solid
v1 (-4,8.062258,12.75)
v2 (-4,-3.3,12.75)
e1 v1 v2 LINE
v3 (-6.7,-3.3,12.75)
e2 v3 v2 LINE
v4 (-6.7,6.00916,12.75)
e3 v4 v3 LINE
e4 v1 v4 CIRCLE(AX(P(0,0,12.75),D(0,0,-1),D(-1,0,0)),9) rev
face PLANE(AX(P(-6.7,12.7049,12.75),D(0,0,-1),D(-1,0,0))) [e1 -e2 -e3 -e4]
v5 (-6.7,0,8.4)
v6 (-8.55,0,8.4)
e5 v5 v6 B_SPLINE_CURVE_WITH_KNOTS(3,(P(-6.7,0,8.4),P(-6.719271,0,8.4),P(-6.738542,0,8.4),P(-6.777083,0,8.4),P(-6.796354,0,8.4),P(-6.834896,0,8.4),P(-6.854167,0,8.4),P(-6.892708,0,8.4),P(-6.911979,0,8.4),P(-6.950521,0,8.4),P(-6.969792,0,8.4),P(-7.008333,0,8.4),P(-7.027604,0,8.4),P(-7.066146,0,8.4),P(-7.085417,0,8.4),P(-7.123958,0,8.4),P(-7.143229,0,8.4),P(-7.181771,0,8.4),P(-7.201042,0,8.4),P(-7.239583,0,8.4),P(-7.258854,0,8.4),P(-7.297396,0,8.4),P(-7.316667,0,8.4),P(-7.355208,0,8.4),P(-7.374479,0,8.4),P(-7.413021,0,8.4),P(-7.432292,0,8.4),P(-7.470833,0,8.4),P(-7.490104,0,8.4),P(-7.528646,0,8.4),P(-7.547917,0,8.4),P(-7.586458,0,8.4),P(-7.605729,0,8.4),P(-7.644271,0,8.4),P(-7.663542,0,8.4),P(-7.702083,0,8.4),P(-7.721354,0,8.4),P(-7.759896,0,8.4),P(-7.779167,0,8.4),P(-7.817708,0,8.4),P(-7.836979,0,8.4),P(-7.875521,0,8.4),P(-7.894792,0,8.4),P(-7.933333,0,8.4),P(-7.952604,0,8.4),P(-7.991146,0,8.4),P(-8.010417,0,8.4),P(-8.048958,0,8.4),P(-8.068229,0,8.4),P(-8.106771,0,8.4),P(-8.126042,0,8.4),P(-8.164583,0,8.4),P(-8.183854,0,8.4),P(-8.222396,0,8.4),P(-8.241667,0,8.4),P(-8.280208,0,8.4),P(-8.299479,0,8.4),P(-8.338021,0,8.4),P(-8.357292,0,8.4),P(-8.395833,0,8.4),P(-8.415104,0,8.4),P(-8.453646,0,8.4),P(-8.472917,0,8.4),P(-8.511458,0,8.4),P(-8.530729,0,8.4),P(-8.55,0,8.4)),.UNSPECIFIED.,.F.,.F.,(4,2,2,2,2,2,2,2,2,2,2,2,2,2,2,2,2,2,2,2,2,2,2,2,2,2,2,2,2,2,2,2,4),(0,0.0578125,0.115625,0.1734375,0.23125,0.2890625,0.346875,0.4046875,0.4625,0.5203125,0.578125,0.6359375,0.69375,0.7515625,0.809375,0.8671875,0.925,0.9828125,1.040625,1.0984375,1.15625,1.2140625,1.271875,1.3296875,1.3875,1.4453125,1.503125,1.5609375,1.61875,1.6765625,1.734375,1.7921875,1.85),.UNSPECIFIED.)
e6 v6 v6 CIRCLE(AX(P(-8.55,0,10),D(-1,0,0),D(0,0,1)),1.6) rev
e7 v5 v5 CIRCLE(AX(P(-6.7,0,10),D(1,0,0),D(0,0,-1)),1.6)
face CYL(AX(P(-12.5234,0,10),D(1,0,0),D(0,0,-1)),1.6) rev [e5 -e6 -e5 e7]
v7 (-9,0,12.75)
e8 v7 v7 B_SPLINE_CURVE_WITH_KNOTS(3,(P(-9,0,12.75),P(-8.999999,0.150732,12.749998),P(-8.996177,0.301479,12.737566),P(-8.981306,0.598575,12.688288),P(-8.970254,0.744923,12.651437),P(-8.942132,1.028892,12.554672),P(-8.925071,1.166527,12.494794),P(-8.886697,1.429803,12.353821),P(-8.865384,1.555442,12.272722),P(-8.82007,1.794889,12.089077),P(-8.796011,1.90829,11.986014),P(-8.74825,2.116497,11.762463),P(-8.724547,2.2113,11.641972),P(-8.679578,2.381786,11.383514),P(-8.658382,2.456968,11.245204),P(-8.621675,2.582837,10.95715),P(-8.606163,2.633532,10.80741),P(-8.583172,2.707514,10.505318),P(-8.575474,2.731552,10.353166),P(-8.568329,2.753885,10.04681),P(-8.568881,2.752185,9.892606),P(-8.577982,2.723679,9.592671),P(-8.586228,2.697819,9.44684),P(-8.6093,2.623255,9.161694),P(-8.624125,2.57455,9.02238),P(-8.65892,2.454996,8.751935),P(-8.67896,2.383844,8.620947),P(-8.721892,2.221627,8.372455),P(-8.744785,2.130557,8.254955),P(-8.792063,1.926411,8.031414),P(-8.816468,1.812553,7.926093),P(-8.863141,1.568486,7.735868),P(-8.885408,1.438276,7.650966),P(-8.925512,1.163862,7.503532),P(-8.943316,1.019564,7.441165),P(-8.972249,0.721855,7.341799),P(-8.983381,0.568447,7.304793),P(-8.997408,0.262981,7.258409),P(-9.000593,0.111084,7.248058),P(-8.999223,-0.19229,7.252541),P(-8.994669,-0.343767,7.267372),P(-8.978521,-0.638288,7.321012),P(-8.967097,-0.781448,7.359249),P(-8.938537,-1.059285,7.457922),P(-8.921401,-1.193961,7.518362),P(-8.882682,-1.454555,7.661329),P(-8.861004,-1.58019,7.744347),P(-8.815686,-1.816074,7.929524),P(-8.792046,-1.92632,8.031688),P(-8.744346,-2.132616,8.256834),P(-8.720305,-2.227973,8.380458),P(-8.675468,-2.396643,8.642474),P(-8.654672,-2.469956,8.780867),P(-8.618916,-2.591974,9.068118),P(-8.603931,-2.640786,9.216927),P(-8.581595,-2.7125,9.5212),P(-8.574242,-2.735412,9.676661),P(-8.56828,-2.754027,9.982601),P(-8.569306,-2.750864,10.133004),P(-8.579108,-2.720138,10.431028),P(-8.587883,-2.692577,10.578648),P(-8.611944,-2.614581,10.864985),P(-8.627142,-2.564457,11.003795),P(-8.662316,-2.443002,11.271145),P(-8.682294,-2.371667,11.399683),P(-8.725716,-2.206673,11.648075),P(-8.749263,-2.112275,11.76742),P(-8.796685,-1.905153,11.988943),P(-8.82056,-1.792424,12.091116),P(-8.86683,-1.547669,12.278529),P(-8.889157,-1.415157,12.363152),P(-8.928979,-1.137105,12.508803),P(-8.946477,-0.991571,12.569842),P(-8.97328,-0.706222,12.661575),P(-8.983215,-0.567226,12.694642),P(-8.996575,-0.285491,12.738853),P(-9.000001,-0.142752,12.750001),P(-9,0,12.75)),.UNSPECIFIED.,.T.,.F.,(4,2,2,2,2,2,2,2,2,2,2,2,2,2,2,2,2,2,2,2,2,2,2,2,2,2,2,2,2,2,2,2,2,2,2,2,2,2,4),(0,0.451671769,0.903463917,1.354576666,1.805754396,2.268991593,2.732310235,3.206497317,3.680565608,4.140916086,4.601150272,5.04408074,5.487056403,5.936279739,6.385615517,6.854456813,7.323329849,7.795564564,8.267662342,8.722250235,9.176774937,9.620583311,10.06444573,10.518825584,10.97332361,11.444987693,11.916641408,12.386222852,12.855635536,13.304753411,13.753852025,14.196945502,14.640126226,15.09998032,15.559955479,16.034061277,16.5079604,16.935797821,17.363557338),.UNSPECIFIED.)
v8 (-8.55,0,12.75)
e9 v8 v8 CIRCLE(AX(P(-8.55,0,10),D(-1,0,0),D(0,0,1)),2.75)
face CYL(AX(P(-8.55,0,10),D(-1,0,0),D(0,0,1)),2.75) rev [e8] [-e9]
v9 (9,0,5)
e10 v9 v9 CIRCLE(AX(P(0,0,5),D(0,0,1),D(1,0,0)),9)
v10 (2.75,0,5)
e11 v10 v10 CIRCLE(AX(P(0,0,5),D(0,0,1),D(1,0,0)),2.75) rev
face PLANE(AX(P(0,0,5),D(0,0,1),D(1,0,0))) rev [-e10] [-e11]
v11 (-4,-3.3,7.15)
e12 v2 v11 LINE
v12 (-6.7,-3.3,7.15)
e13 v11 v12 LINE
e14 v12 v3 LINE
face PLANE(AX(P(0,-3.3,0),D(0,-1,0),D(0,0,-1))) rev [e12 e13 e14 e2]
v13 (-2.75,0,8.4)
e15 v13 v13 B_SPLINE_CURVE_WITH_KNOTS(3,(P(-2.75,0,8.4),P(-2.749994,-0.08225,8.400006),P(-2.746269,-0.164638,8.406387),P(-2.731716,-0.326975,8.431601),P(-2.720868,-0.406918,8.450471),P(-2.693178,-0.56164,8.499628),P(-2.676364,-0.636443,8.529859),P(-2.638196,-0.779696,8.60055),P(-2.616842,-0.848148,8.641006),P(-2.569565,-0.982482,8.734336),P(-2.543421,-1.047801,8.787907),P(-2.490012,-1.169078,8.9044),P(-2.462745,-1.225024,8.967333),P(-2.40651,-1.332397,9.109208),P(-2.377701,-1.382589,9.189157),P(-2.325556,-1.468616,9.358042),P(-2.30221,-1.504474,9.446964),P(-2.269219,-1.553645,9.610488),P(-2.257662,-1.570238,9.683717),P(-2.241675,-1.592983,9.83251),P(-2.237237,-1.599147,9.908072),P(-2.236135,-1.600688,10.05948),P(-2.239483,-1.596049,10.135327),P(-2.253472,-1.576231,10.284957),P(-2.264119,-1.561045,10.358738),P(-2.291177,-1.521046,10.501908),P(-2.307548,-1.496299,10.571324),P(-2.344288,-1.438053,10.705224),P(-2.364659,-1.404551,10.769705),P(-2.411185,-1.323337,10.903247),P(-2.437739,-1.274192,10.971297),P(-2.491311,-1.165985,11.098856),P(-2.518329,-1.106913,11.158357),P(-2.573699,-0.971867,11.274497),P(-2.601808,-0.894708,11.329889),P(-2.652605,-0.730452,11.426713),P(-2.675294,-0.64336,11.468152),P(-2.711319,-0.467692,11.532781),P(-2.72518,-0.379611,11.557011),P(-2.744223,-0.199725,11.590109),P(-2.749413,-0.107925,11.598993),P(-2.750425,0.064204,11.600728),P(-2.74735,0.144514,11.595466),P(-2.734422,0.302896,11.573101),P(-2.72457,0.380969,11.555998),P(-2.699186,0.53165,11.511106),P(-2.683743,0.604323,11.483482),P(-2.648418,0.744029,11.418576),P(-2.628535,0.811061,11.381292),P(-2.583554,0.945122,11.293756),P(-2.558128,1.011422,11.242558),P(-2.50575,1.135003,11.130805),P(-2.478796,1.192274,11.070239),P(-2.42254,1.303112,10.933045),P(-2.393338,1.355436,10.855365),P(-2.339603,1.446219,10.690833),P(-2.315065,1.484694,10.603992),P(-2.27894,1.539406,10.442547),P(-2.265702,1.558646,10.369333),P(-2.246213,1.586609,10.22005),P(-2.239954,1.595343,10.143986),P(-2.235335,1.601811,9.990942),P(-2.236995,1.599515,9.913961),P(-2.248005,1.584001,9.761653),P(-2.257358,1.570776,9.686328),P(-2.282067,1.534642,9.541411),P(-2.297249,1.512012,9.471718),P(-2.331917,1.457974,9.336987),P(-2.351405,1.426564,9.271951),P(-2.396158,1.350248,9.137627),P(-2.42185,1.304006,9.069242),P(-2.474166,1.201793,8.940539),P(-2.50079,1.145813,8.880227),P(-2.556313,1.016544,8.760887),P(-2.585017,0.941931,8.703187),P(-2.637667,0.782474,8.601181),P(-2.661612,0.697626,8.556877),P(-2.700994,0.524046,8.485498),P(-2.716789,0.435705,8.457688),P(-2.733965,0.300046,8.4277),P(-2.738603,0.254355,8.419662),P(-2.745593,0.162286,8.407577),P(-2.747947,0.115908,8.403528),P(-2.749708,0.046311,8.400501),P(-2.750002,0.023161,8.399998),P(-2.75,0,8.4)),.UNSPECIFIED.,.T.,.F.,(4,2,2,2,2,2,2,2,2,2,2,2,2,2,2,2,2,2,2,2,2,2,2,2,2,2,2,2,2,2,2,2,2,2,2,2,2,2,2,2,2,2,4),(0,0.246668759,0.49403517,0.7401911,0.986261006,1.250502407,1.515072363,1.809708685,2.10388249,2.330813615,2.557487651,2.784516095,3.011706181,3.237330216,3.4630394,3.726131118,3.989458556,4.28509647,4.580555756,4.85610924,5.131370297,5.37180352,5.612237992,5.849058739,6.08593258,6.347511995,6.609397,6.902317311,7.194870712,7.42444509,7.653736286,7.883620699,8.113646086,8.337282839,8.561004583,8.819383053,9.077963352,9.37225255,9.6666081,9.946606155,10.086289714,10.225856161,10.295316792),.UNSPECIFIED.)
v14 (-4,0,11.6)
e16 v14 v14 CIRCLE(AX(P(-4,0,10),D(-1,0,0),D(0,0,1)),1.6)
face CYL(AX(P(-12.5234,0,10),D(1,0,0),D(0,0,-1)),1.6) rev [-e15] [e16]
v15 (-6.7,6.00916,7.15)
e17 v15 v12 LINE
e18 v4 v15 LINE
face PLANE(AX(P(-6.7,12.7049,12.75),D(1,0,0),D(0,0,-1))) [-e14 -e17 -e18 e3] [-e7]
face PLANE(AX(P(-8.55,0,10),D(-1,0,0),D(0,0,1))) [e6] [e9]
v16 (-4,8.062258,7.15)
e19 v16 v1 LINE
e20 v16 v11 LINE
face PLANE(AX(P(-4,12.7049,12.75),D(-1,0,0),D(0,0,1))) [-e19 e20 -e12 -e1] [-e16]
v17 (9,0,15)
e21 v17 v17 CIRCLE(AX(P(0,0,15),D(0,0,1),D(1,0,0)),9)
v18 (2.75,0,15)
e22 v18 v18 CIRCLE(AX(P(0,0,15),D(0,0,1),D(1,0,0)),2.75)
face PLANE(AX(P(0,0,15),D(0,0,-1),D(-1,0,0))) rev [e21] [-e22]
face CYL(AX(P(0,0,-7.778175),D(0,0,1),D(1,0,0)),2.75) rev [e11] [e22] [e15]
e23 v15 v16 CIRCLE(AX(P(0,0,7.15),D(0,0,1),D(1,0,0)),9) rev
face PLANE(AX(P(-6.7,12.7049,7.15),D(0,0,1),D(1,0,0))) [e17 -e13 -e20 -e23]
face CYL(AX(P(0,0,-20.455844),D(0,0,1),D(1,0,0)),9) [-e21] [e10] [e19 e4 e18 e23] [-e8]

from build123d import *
from OCP.BRepFilletAPI import BRepFilletAPI_MakeChamfer

# Parameters (mm, degrees)
BOSS_EXTRUDE1_DEPTH           = 4.999999888
BOSS_EXTRUDE2_DEPTH           = 9.999999776
CUT_EXTRUDE1_DEPTH            = 24.851816249
DRAFT1_ANGLE                  = 75.657432428
DRAFT2_ANGLE                  = 75.657432428
CHAMFER1_SIZE                 = 0.480269149
CHAMFER1_SIZE2                = 0.480160377
CHAMFER2_SIZE                 = 0.073907777
CHAMFER2_SIZE2                = 0.055643006
CHAMFER3_SIZE                 = 0.073878837
CHAMFER3_SIZE2                = 0.055610332
CHAMFER4_SIZE                 = 0.48025635
CHAMFER4_SIZE2                = 0.480244097
CHAMFER5_SIZE                 = 0.055613272
CHAMFER5_SIZE2                = 0.073938433
CHAMFER6_SIZE                 = 0.073986168
CHAMFER6_SIZE2                = 0.055567841
CHAMFER7_SIZE                 = 0.480229194
CHAMFER7_SIZE2                = 0.480306202
CHAMFER8_SIZE                 = 0.073954803
CHAMFER8_SIZE2                = 0.055594022
CHAMFER9_SIZE                 = 0.480241324
CHAMFER9_SIZE2                = 0.480241311
CHAMFER10_SIZE                = 0.073938433
CHAMFER10_SIZE2               = 0.055613272
CHAMFER11_SIZE                = 0.07396561
CHAMFER11_SIZE2               = 0.055576528
CHAMFER12_SIZE                = 0.055581046
CHAMFER12_SIZE2               = 0.073952971
CHAMFER13_SIZE                = 0.055599635
CHAMFER13_SIZE2               = 0.07394822
CHAMFER14_SIZE                = 0.055610332
CHAMFER14_SIZE2               = 0.073878837
CHAMFER15_SIZE                = 0.05563492
CHAMFER15_SIZE2               = 0.073911301
CHAMFER16_SIZE                = 0.480161244
CHAMFER16_SIZE2               = 0.480232276
CHAMFER17_SIZE                = 0.055643006
CHAMFER17_SIZE2               = 0.073907777
CHAMFER18_SIZE                = 0.073924951
CHAMFER18_SIZE2               = 0.055628248
CHAMFER19_SIZE                = 0.0739466
CHAMFER19_SIZE2               = 0.055593747
CHAMFER20_SIZE                = 0.073930759
CHAMFER20_SIZE2               = 0.055612604
CHAMFER21_SIZE                = 0.055621093
CHAMFER21_SIZE2               = 0.073956166
CHAMFER22_SIZE                = 0.480268533
CHAMFER22_SIZE2               = 0.480228784
CHAMFER23_SIZE                = 0.480160377
CHAMFER23_SIZE2               = 0.480269149
CHAMFER24_SIZE                = 0.055658661
CHAMFER24_SIZE2               = 0.073888826
CHAMFER25_SIZE                = 0.07394822
CHAMFER25_SIZE2               = 0.055599635
CHAMFER26_SIZE                = 0.480263263
CHAMFER26_SIZE2               = 0.480224058
CHAMFER27_SIZE                = 0.055567841
CHAMFER27_SIZE2               = 0.073986168
CHAMFER28_SIZE                = 0.480244097
CHAMFER28_SIZE2               = 0.48025635
CHAMFER29_SIZE                = 0.480224058
CHAMFER29_SIZE2               = 0.480263263
CHAMFER30_SIZE                = 0.073956166
CHAMFER30_SIZE2               = 0.055621093
CHAMFER31_SIZE                = 0.480306202
CHAMFER31_SIZE2               = 0.480229194
CHAMFER32_SIZE                = 0.073888826
CHAMFER32_SIZE2               = 0.055658661
CHAMFER33_SIZE                = 0.055632891
CHAMFER33_SIZE2               = 0.073900635
CHAMFER34_SIZE                = 0.480279358
CHAMFER34_SIZE2               = 0.480241996
CHAMFER35_SIZE                = 0.055594022
CHAMFER35_SIZE2               = 0.073954803
SKETCH8_R                     = 9
SKETCH8_R_2                   = 7
BOSS_EXTRUDE3_DEPTH           = 9.999999776
SKETCH4_R                     = 2.75
F_5_5MMSHAFTHOLE_DEPTH        = 14.999999665
NUTPLACE_DEPTH                = 24.428788184
NUTPLACE_DEPTH_BACK           = 3.3
SKETCH5_W                     = 2.7
SKETCH5_H                     = 5.6
SKETCH6_R                     = 1.6
F_3_3MMSCREWHOLE_FOR_M3_DEPTH = 24.428788184
SKETCH9_R                     = 2.75
CUT_EXTRUDE2_DEPTH            = 0.45


with BuildPart() as part:
    # Sketch1 → Boss-Extrude1 (new body)
    with BuildSketch(Plane.XY.offset(4.999999888)):
        Polygon((0.339522987, -10.429499671), (0.430330598, -9.997780883), (0.413497997, -9.606540203), (1.592849963, -9.482569993), (1.65772755, -9.868826759), (1.836300013, -10.272200219), (2.185299993, -10.811800137), (2.787580015, -11.47999987), (4.063284555, -12.50559645), (4.492539912, -10.925999843), (4.587039817, -10.031400248), (4.552249797, -9.389759973), (4.459627835, -8.95844484), (4.285079893, -8.607819676), (5.312060006, -8.014890365), (5.528453232, -8.341391384), (5.855639931, -8.637240157), (6.39390992, -8.988169953), (7.215910126, -9.353649803), (8.798466061, -9.771706947), (8.548139594, -8.154099807), (8.270599879, -7.29840016), (7.977839559, -6.726390216), (7.71776434, -6.370021747), (7.415730041, -6.120730191), (8.112750016, -5.161359906), (8.443166441, -5.371583994), (8.862470277, -5.508800037), (9.496949613, -5.610470194), (10.396500118, -5.609999876), (12.012343773, -5.348235413), (11.125699617, -3.972290084), (10.524099693, -3.30347009), (10.023999959, -2.89997994), (9.641495157, -2.680225788), (9.264130145, -2.575319959), (9.510680102, -1.415390056), (9.898092934, -1.473045189), (10.33690013, -1.427859999), (10.957900435, -1.262660022), (11.779500172, -0.896346988), (13.149138829, -7.521e-06), (11.779500172, 0.896332029), (10.957900435, 1.26265001), (10.33690013, 1.427839976), (9.898092934, 1.473025166), (9.510680102, 1.415370032), (9.264130145, 2.575319959), (9.641495157, 2.680225788), (10.023999959, 2.89997994), (10.524099693, 3.30347009), (11.125699617, 3.972290084), (12.012343773, 5.348235413), (10.396500118, 5.609999876), (9.496949613, 5.610470194), (8.862470277, 5.508800037), (8.443166441, 5.371583994), (8.112750016, 5.161359906), (7.415730041, 6.120730191), (7.71776434, 6.370021747), (7.977839559, 6.726390216), (8.270599879, 7.29840016), (8.548139594, 8.154099807), (8.798466061, 9.771706947), (7.215910126, 9.353649803), (6.39390992, 8.988169953), (5.855639931, 8.637240157), (5.528453232, 8.341391384), (5.312060006, 8.014890365), (4.285079893, 8.607819676), (4.459627835, 8.95844484), (4.552249797, 9.389759973), (4.587039817, 10.031400248), (4.492539912, 10.925999843), (4.063284555, 12.50559645), (2.787580015, 11.47999987), (2.185299993, 10.811800137), (1.836300013, 10.272200219), (1.65772755, 9.868826759), (1.592849963, 9.482569993), (0.413497997, 9.606540203), (0.430330598, 9.997780883), (0.339522987, 10.429499671), (0.110335997, 11.0298004), (-0.339844002, 11.808699928), (-1.374489965, 13.077052287), (-2.122730017, 11.621300131), (-2.401150065, 10.765899904), (-2.500530099, 10.13099961), (-2.499591845, 9.689898642), (-1.226228432, 9.692607179), (-3.529570065, 8.944179863), (-3.673310552, 9.308462053), (-3.931879997, 9.665950201), (-4.385440145, 10.121099651), (-5.113489926, 10.649500415), (-6.574547579, 11.387529391), (-6.666000001, 9.753170423), (-6.572430022, 8.858470246), (-6.405009888, 8.238100447), (-6.224713953, 7.835442704), (-5.981110036, 7.528789807), (-6.862369832, 6.735320203), (-7.141897192, 7.009681496), (-7.523450069, 7.231030148), (-8.122920059, 7.462389767), (-9.002960287, 7.64897), (-10.637789042, 7.728840668), (-10.056699626, 6.198650226), (-9.607279673, 5.419360008), (-9.202009998, 4.920720123), (-8.873531655, 4.626215205), (-8.526249789, 4.445159808), (-9.008579887, 3.361830022), (-9.375504073, 3.498770202), (-9.8141497, 3.545810003), (-10.455899872, 3.513339907), (-11.335699819, 3.325850004), (-12.861758085, 2.733853221), (-11.708499864, 1.572330017), (-10.980900377, 1.043200027), (-10.407900438, 0.752502005), (-9.988065549, 0.617063222), (-9.597119875, 0.592910976), (-9.597119875, -0.592910976), (-9.988065549, -0.617063222), (-10.407900438, -0.752502005), (-10.980900377, -1.043200027), (-11.708499864, -1.572330017), (-12.861758085, -2.733853221), (-11.335699819, -3.325850004), (-10.455899872, -3.513339907), (-9.8141497, -3.545810003), (-9.375504073, -3.498770202), (-9.008579887, -3.361830022), (-8.526249789, -4.445159808), (-8.873531655, -4.626215205), (-9.202009998, -4.920720123), (-9.607279673, -5.419360008), (-10.056699626, -6.198650226), (-10.637789042, -7.728840668), (-9.002960287, -7.64897), (-8.122920059, -7.462389767), (-7.523450069, -7.231030148), (-7.141897192, -7.009681496), (-6.862369832, -6.735320203), (-5.981110036, -7.528789807), (-6.224713953, -7.835442704), (-6.405009888, -8.238100447), (-6.572430022, -8.858470246), (-6.666000001, -9.753170423), (-6.574547579, -11.387529391), (-5.113489926, -10.649500415), (-4.385440145, -10.121099651), (-3.931879997, -9.665950201), (-3.673310552, -9.308462053), (-3.529570065, -8.944179863), (-1.226228432, -9.692607179), (-2.499591845, -9.689898642), (-2.500530099, -10.13099961), (-2.401150065, -10.765899904), (-2.122730017, -11.621300131), (-1.374489965, -13.077052287), (-0.339844002, -11.808699928), (0.110335997, -11.0298004), align=None)
    extrude(amount=-BOSS_EXTRUDE1_DEPTH)

    # Sketch2 → Boss-Extrude2 (add)
    with BuildSketch(Plane.XY.offset(4.999999888)):
        Polygon((3.749999916, -6.495189853), (1.941140043, -7.244439796), (0, -7.499999832), (-1.941140043, -7.244439796), (-3.749999916, -6.495189853), (-5.303299986, -5.303299986), (-6.495189853, -3.749999916), (-7.244439796, -1.941140043), (-7.499999832, 0), (-7.244439796, 1.941140043), (-6.495189853, 3.749999916), (-5.303299986, 5.303299986), (-3.749999916, 6.495189853), (-1.941140043, 7.244439796), (0, 7.499999832), (1.941140043, 7.244439796), (3.749999916, 6.495189853), (5.303299986, 5.303299986), (6.495189853, 3.749999916), (7.244439796, 1.941140043), (7.499999832, 0), (7.244439796, -1.941140043), (6.495189853, -3.749999916), (5.303299986, -5.303299986), align=None)
    extrude(amount=BOSS_EXTRUDE2_DEPTH)

    # Sketch3 → Cut-Extrude1 (cut, through all)
    with BuildSketch(Plane(origin=(0, 0, 0), x_dir=(-1, 0, 0), z_dir=(0, 0, -1))):
        Polygon((0, 2.499999944), (-1.767770038, 1.767770038), (-2.499999944, 0), (-1.767770038, -1.767770038), (0, -2.499999944), (1.767770038, -1.767770038), (2.499999944, 0), (1.767770038, 1.767770038), align=None)
    extrude(amount=-CUT_EXTRUDE1_DEPTH, mode=Mode.SUBTRACT)

    # Draft1
    draft1_faces = [part.faces().sort_by_distance(p)[0] for p in [
        (-1.862910138, -9.69125291, 2.499999944),
    ]]
    draft(draft1_faces, Plane(origin=(-2.499591845, -9.689898642, 0), x_dir=(-0.0021270688131203317, -0.9999977377865734, 0), z_dir=(-0.9999977377865734, 0.0021270688131203317, 0)), DRAFT1_ANGLE)

    # Draft2
    draft2_faces = [part.faces().sort_by_distance(p)[0] for p in [
        (-1.862910138, 9.69125291, 2.499999944),
    ]]
    draft(draft2_faces, Plane(origin=(-2.500530099, 10.13099961, 0), x_dir=(0.0021270688131095838, -0.9999977377865734, 0), z_dir=(-0.9999977377865734, -0.0021270688131095838, 0)), DRAFT2_ANGLE)

    # Chamfer1
    chamfer1_edges = [part.edges().sort_by_distance(p)[0] for p in [
        (-1.374489965, -13.077052287, 2.499999944),
    ]]
    chamfer1_side = [part.faces().sort_by_distance(p)[0] for p in [
        (-0.857166983, -12.442876108, 2.499999944),
    ]]
    chamfer(chamfer1_edges, length=CHAMFER1_SIZE, length2=CHAMFER1_SIZE2, reference=chamfer1_side[0])

    # Chamfer2
    chamfer2_edges = [part.edges().sort_by_distance(p)[0] for p in [
        (8.443166441, 5.371583994, 2.499999944),
    ]]
    chamfer2_side = [part.faces().sort_by_distance(p)[0] for p in [
        (8.277958229, 5.26647195, 2.499999944),
    ]]
    chamfer(chamfer2_edges, length=CHAMFER2_SIZE, length2=CHAMFER2_SIZE2, reference=chamfer2_side[0])

    # Chamfer3
    chamfer3_edges = [part.edges().sort_by_distance(p)[0] for p in [
        (0.430330598, -9.997780883, 2.499999944),
    ]]
    chamfer3_side = [part.faces().sort_by_distance(p)[0] for p in [
        (0.421914298, -9.802160543, 2.499999944),
    ]]
    chamfer(chamfer3_edges, length=CHAMFER3_SIZE, length2=CHAMFER3_SIZE2, reference=chamfer3_side[0])

    # Chamfer4
    chamfer4_edges = [part.edges().sort_by_distance(p)[0] for p in [
        (8.798466061, 9.771706947, 2.499999944),
    ]]
    chamfer4_side = [part.faces().sort_by_distance(p)[0] for p in [
        (8.673302828, 8.962903377, 2.499999944),
    ]]
    chamfer(chamfer4_edges, length=CHAMFER4_SIZE, length2=CHAMFER4_SIZE2, reference=chamfer4_side[0])

    # Chamfer5
    chamfer5_edges = [part.edges().sort_by_distance(p)[0] for p in [
        (1.65772755, -9.868826759, 2.499999944),
    ]]
    chamfer5_side = [part.faces().sort_by_distance(p)[0] for p in [
        (1.747013781, -10.070513489, 2.499999944),
    ]]
    chamfer(chamfer5_edges, length=CHAMFER5_SIZE, length2=CHAMFER5_SIZE2, reference=chamfer5_side[0])

    # Chamfer6
    chamfer6_edges = [part.edges().sort_by_distance(p)[0] for p in [
        (5.528453232, 8.341391384, 2.499999944),
    ]]
    chamfer6_side = [part.faces().sort_by_distance(p)[0] for p in [
        (5.420256619, 8.178140875, 2.499999944),
    ]]
    chamfer(chamfer6_edges, length=CHAMFER6_SIZE, length2=CHAMFER6_SIZE2, reference=chamfer6_side[0])

    # Chamfer7
    chamfer7_edges = [part.edges().sort_by_distance(p)[0] for p in [
        (4.063284555, -12.50559645, 2.499999944),
    ]]
    chamfer7_side = [part.faces().sort_by_distance(p)[0] for p in [
        (4.277912234, -11.715798146, 2.499999944),
    ]]
    chamfer(chamfer7_edges, length=CHAMFER7_SIZE, length2=CHAMFER7_SIZE2, reference=chamfer7_side[0])

    # Chamfer8
    chamfer8_edges = [part.edges().sort_by_distance(p)[0] for p in [
        (4.459627835, 8.95844484, 2.499999944),
    ]]
    chamfer8_side = [part.faces().sort_by_distance(p)[0] for p in [
        (4.372353864, 8.783132258, 2.499999944),
    ]]
    chamfer(chamfer8_edges, length=CHAMFER8_SIZE, length2=CHAMFER8_SIZE2, reference=chamfer8_side[0])

    # Chamfer9
    chamfer9_edges = [part.edges().sort_by_distance(p)[0] for p in [
        (13.149138829, -7.521e-06, 2.499999944),
    ]]
    chamfer9_side = [part.faces().sort_by_distance(p)[0] for p in [
        (12.4643195, 0.448162254, 2.499999944),
    ]]
    chamfer(chamfer9_edges, length=CHAMFER9_SIZE, length2=CHAMFER9_SIZE2, reference=chamfer9_side[0])

    # Chamfer10
    chamfer10_edges = [part.edges().sort_by_distance(p)[0] for p in [
        (1.65772755, 9.868826759, 2.499999944),
    ]]
    chamfer10_side = [part.faces().sort_by_distance(p)[0] for p in [
        (1.625288757, 9.675698376, 2.499999944),
    ]]
    chamfer(chamfer10_edges, length=CHAMFER10_SIZE, length2=CHAMFER10_SIZE2, reference=chamfer10_side[0])

    # Chamfer11: one chamfer whose edges measure the first distance from different faces: ONE call of the kernel's chamfer builder (chamfer() names one face for all edges)
    chamfer11_edges_1 = [part.edges().sort_by_distance(p)[0] for p in [
        (-7.141897192, -7.009681496, 2.499999944),
    ]]
    chamfer11_side_1 = [part.faces().sort_by_distance(p)[0] for p in [
        (-7.002133512, -6.872500849, 2.499999944),
    ]]
    chamfer11_edges_2 = [part.edges().sort_by_distance(p)[0] for p in [
        (-7.141897192, 7.009681496, 2.499999944),
    ]]
    chamfer11_side_2 = [part.faces().sort_by_distance(p)[0] for p in [
        (-7.33267363, 7.120355822, 2.499999944),
    ]]
    chamfer11 = BRepFilletAPI_MakeChamfer(part.part.solid().wrapped)
    for e in chamfer11_edges_1:
        chamfer11.Add(CHAMFER11_SIZE, CHAMFER11_SIZE2, e.wrapped, chamfer11_side_1[0].wrapped)  # the first distance lies on this face
    for e in chamfer11_edges_2:
        chamfer11.Add(CHAMFER11_SIZE, CHAMFER11_SIZE2, e.wrapped, chamfer11_side_2[0].wrapped)  # the first distance lies on this face
    add(Compound.cast(chamfer11.Shape()), mode=Mode.REPLACE)

    # Chamfer12: one chamfer whose edges measure the first distance from different faces: ONE call of the kernel's chamfer builder (chamfer() names one face for all edges)
    chamfer12_edges_1 = [part.edges().sort_by_distance(p)[0] for p in [
        (-2.499591845, -9.689898642, 2.499999944),
    ]]
    chamfer12_side_1 = [part.faces().sort_by_distance(p)[0] for p in [
        (-2.450675963, -9.500269518, 2.499999944),
    ]]
    chamfer12_edges_2 = [part.edges().sort_by_distance(p)[0] for p in [
        (-2.499591845, 9.689898642, 2.499999944),
    ]]
    chamfer12_side_2 = [part.faces().sort_by_distance(p)[0] for p in [
        (-2.500060972, 9.910449126, 2.499999944),
    ]]
    chamfer12 = BRepFilletAPI_MakeChamfer(part.part.solid().wrapped)
    for e in chamfer12_edges_1:
        chamfer12.Add(CHAMFER12_SIZE, CHAMFER12_SIZE2, e.wrapped, chamfer12_side_1[0].wrapped)  # the first distance lies on this face
    for e in chamfer12_edges_2:
        chamfer12.Add(CHAMFER12_SIZE, CHAMFER12_SIZE2, e.wrapped, chamfer12_side_2[0].wrapped)  # the first distance lies on this face
    add(Compound.cast(chamfer12.Shape()), mode=Mode.REPLACE)

    # Chamfer13
    chamfer13_edges = [part.edges().sort_by_distance(p)[0] for p in [
        (9.898092934, -1.473045189, 2.499999944),
    ]]
    chamfer13_side = [part.faces().sort_by_distance(p)[0] for p in [
        (10.117496532, -1.450452594, 2.499999944),
    ]]
    chamfer(chamfer13_edges, length=CHAMFER13_SIZE, length2=CHAMFER13_SIZE2, reference=chamfer13_side[0])

    # Chamfer14
    chamfer14_edges = [part.edges().sort_by_distance(p)[0] for p in [
        (0.430330598, 9.997780883, 2.499999944),
    ]]
    chamfer14_side = [part.faces().sort_by_distance(p)[0] for p in [
        (0.384926792, 10.213640277, 2.499999944),
    ]]
    chamfer(chamfer14_edges, length=CHAMFER14_SIZE, length2=CHAMFER14_SIZE2, reference=chamfer14_side[0])

    # Chamfer15: one chamfer whose edges measure the first distance from different faces: ONE call of the kernel's chamfer builder (chamfer() names one face for all edges)
    chamfer15_edges_1 = [part.edges().sort_by_distance(p)[0] for p in [
        (-6.224713953, -7.835442704, 2.499999944),
    ]]
    chamfer15_side_1 = [part.faces().sort_by_distance(p)[0] for p in [
        (-6.31486192, -8.036771575, 2.499999944),
    ]]
    chamfer15_edges_2 = [part.edges().sort_by_distance(p)[0] for p in [
        (-6.224713953, 7.835442704, 2.499999944),
    ]]
    chamfer15_side_2 = [part.faces().sort_by_distance(p)[0] for p in [
        (-6.102911995, 7.682116255, 2.499999944),
    ]]
    chamfer15 = BRepFilletAPI_MakeChamfer(part.part.solid().wrapped)
    for e in chamfer15_edges_1:
        chamfer15.Add(CHAMFER15_SIZE, CHAMFER15_SIZE2, e.wrapped, chamfer15_side_1[0].wrapped)  # the first distance lies on this face
    for e in chamfer15_edges_2:
        chamfer15.Add(CHAMFER15_SIZE, CHAMFER15_SIZE2, e.wrapped, chamfer15_side_2[0].wrapped)  # the first distance lies on this face
    add(Compound.cast(chamfer15.Shape()), mode=Mode.REPLACE)

    # Chamfer16: one chamfer whose edges measure the first distance from different faces: ONE call of the kernel's chamfer builder (chamfer() names one face for all edges)
    chamfer16_edges_1 = [part.edges().sort_by_distance(p)[0] for p in [
        (-10.637789042, -7.728840668, 2.499999944),
    ]]
    chamfer16_side_1 = [part.faces().sort_by_distance(p)[0] for p in [
        (-10.347244334, -6.963745447, 2.499999944),
    ]]
    chamfer16_edges_2 = [part.edges().sort_by_distance(p)[0] for p in [
        (-10.637789042, 7.728840668, 2.499999944),
    ]]
    chamfer16_side_2 = [part.faces().sort_by_distance(p)[0] for p in [
        (-9.820374665, 7.688905334, 2.499999944),
    ]]
    chamfer16 = BRepFilletAPI_MakeChamfer(part.part.solid().wrapped)
    for e in chamfer16_edges_1:
        chamfer16.Add(CHAMFER16_SIZE, CHAMFER16_SIZE2, e.wrapped, chamfer16_side_1[0].wrapped)  # the first distance lies on this face
    for e in chamfer16_edges_2:
        chamfer16.Add(CHAMFER16_SIZE, CHAMFER16_SIZE2, e.wrapped, chamfer16_side_2[0].wrapped)  # the first distance lies on this face
    add(Compound.cast(chamfer16.Shape()), mode=Mode.REPLACE)

    # Chamfer17
    chamfer17_edges = [part.edges().sort_by_distance(p)[0] for p in [
        (8.443166441, -5.371583994, 2.499999944),
    ]]
    chamfer17_side = [part.faces().sort_by_distance(p)[0] for p in [
        (8.652818359, -5.440192016, 2.499999944),
    ]]
    chamfer(chamfer17_edges, length=CHAMFER17_SIZE, length2=CHAMFER17_SIZE2, reference=chamfer17_side[0])

    # Chamfer18: one chamfer whose edges measure the first distance from different faces: ONE call of the kernel's chamfer builder (chamfer() names one face for all edges)
    chamfer18_edges_1 = [part.edges().sort_by_distance(p)[0] for p in [
        (-8.873531655, -4.626215205, 2.499999944),
    ]]
    chamfer18_side_1 = [part.faces().sort_by_distance(p)[0] for p in [
        (-9.037770826, -4.773467664, 2.499999944),
    ]]
    chamfer18_edges_2 = [part.edges().sort_by_distance(p)[0] for p in [
        (-8.873531655, 4.626215205, 2.499999944),
    ]]
    chamfer18_side_2 = [part.faces().sort_by_distance(p)[0] for p in [
        (-8.699890722, 4.535687506, 2.499999944),
    ]]
    chamfer18 = BRepFilletAPI_MakeChamfer(part.part.solid().wrapped)
    for e in chamfer18_edges_1:
        chamfer18.Add(CHAMFER18_SIZE, CHAMFER18_SIZE2, e.wrapped, chamfer18_side_1[0].wrapped)  # the first distance lies on this face
    for e in chamfer18_edges_2:
        chamfer18.Add(CHAMFER18_SIZE, CHAMFER18_SIZE2, e.wrapped, chamfer18_side_2[0].wrapped)  # the first distance lies on this face
    add(Compound.cast(chamfer18.Shape()), mode=Mode.REPLACE)

    # Chamfer19: one chamfer whose edges measure the first distance from different faces: ONE call of the kernel's chamfer builder (chamfer() names one face for all edges)
    chamfer19_edges_1 = [part.edges().sort_by_distance(p)[0] for p in [
        (9.641495157, 2.680225788, 2.499999944),
    ]]
    chamfer19_side_1 = [part.faces().sort_by_distance(p)[0] for p in [
        (9.452812651, 2.627772873, 2.499999944),
    ]]
    chamfer19_edges_2 = [part.edges().sort_by_distance(p)[0] for p in [
        (9.641495157, -2.680225788, 2.499999944),
    ]]
    chamfer19_side_2 = [part.faces().sort_by_distance(p)[0] for p in [
        (9.832747558, -2.790102864, 2.499999944),
    ]]
    chamfer19 = BRepFilletAPI_MakeChamfer(part.part.solid().wrapped)
    for e in chamfer19_edges_1:
        chamfer19.Add(CHAMFER19_SIZE, CHAMFER19_SIZE2, e.wrapped, chamfer19_side_1[0].wrapped)  # the first distance lies on this face
    for e in chamfer19_edges_2:
        chamfer19.Add(CHAMFER19_SIZE, CHAMFER19_SIZE2, e.wrapped, chamfer19_side_2[0].wrapped)  # the first distance lies on this face
    add(Compound.cast(chamfer19.Shape()), mode=Mode.REPLACE)

    # Chamfer20: one chamfer whose edges measure the first distance from different faces: ONE call of the kernel's chamfer builder (chamfer() names one face for all edges)
    chamfer20_edges_1 = [part.edges().sort_by_distance(p)[0] for p in [
        (-9.375504073, -3.498770202, 2.499999944),
    ]]
    chamfer20_side_1 = [part.faces().sort_by_distance(p)[0] for p in [
        (-9.19204198, -3.430300112, 2.499999944),
    ]]
    chamfer20_edges_2 = [part.edges().sort_by_distance(p)[0] for p in [
        (-9.375504073, 3.498770202, 2.499999944),
    ]]
    chamfer20_side_2 = [part.faces().sort_by_distance(p)[0] for p in [
        (-9.594826887, 3.522290102, 2.499999944),
    ]]
    chamfer20 = BRepFilletAPI_MakeChamfer(part.part.solid().wrapped)
    for e in chamfer20_edges_1:
        chamfer20.Add(CHAMFER20_SIZE, CHAMFER20_SIZE2, e.wrapped, chamfer20_side_1[0].wrapped)  # the first distance lies on this face
    for e in chamfer20_edges_2:
        chamfer20.Add(CHAMFER20_SIZE, CHAMFER20_SIZE2, e.wrapped, chamfer20_side_2[0].wrapped)  # the first distance lies on this face
    add(Compound.cast(chamfer20.Shape()), mode=Mode.REPLACE)

    # Chamfer21
    chamfer21_edges = [part.edges().sort_by_distance(p)[0] for p in [
        (-9.988065549, 0.617063222, 2.499999944),
    ]]
    chamfer21_side = [part.faces().sort_by_distance(p)[0] for p in [
        (-10.197982994, 0.684782613, 2.499999944),
    ]]
    chamfer(chamfer21_edges, length=CHAMFER21_SIZE, length2=CHAMFER21_SIZE2, reference=chamfer21_side[0])

    # Chamfer22: one chamfer whose edges measure the first distance from different faces: ONE call of the kernel's chamfer builder (chamfer() names one face for all edges)
    chamfer22_edges_1 = [part.edges().sort_by_distance(p)[0] for p in [
        (-12.861758085, -2.733853221, 2.499999944),
    ]]
    chamfer22_side_1 = [part.faces().sort_by_distance(p)[0] for p in [
        (-12.285128974, -2.153091619, 2.499999944),
    ]]
    chamfer22_edges_2 = [part.edges().sort_by_distance(p)[0] for p in [
        (-12.861758085, 2.733853221, 2.499999944),
    ]]
    chamfer22_side_2 = [part.faces().sort_by_distance(p)[0] for p in [
        (-12.285128974, 2.153091619, 2.499999944),
    ]]
    chamfer22 = BRepFilletAPI_MakeChamfer(part.part.solid().wrapped)
    for e in chamfer22_edges_1:
        chamfer22.Add(CHAMFER22_SIZE, CHAMFER22_SIZE2, e.wrapped, chamfer22_side_1[0].wrapped)  # the first distance lies on this face
    for e in chamfer22_edges_2:
        chamfer22.Add(CHAMFER22_SIZE, CHAMFER22_SIZE2, e.wrapped, chamfer22_side_2[0].wrapped)  # the first distance lies on this face
    add(Compound.cast(chamfer22.Shape()), mode=Mode.REPLACE)

    # Chamfer23
    chamfer23_edges = [part.edges().sort_by_distance(p)[0] for p in [
        (-1.374489965, 13.077052287, 2.499999944),
    ]]
    chamfer23_side = [part.faces().sort_by_distance(p)[0] for p in [
        (-1.748609991, 12.349176209, 2.499999944),
    ]]
    chamfer(chamfer23_edges, length=CHAMFER23_SIZE, length2=CHAMFER23_SIZE2, reference=chamfer23_side[0])

    # Chamfer24
    chamfer24_edges = [part.edges().sort_by_distance(p)[0] for p in [
        (-3.673310552, -9.308462053, 2.499999944),
    ]]
    chamfer24_side = [part.faces().sort_by_distance(p)[0] for p in [
        (-3.802595275, -9.487206127, 2.499999944),
    ]]
    chamfer(chamfer24_edges, length=CHAMFER24_SIZE, length2=CHAMFER24_SIZE2, reference=chamfer24_side[0])

    # Chamfer25
    chamfer25_edges = [part.edges().sort_by_distance(p)[0] for p in [
        (9.898092934, 1.473025166, 2.499999944),
    ]]
    chamfer25_side = [part.faces().sort_by_distance(p)[0] for p in [
        (9.704386518, 1.444197599, 2.499999944),
    ]]
    chamfer(chamfer25_edges, length=CHAMFER25_SIZE, length2=CHAMFER25_SIZE2, reference=chamfer25_side[0])

    # Chamfer26
    chamfer26_edges = [part.edges().sort_by_distance(p)[0] for p in [
        (12.012343773, 5.348235413, 2.499999944),
    ]]
    chamfer26_side = [part.faces().sort_by_distance(p)[0] for p in [
        (11.569021695, 4.660262749, 2.499999944),
    ]]
    chamfer(chamfer26_edges, length=CHAMFER26_SIZE, length2=CHAMFER26_SIZE2, reference=chamfer26_side[0])

    # Chamfer27
    chamfer27_edges = [part.edges().sort_by_distance(p)[0] for p in [
        (5.528453232, -8.341391384, 2.499999944),
    ]]
    chamfer27_side = [part.faces().sort_by_distance(p)[0] for p in [
        (5.692046582, -8.48931577, 2.499999944),
    ]]
    chamfer(chamfer27_edges, length=CHAMFER27_SIZE, length2=CHAMFER27_SIZE2, reference=chamfer27_side[0])

    # Chamfer28
    chamfer28_edges = [part.edges().sort_by_distance(p)[0] for p in [
        (8.798466061, -9.771706947, 2.499999944),
    ]]
    chamfer28_side = [part.faces().sort_by_distance(p)[0] for p in [
        (8.007188093, -9.562678375, 2.499999944),
    ]]
    chamfer(chamfer28_edges, length=CHAMFER28_SIZE, length2=CHAMFER28_SIZE2, reference=chamfer28_side[0])

    # Chamfer29
    chamfer29_edges = [part.edges().sort_by_distance(p)[0] for p in [
        (12.012343773, -5.348235413, 2.499999944),
    ]]
    chamfer29_side = [part.faces().sort_by_distance(p)[0] for p in [
        (11.204421945, -5.479117645, 2.499999944),
    ]]
    chamfer(chamfer29_edges, length=CHAMFER29_SIZE, length2=CHAMFER29_SIZE2, reference=chamfer29_side[0])

    # Chamfer30
    chamfer30_edges = [part.edges().sort_by_distance(p)[0] for p in [
        (-9.988065549, -0.617063222, 2.499999944),
    ]]
    chamfer30_side = [part.faces().sort_by_distance(p)[0] for p in [
        (-9.792592712, -0.604987099, 2.499999944),
    ]]
    chamfer(chamfer30_edges, length=CHAMFER30_SIZE, length2=CHAMFER30_SIZE2, reference=chamfer30_side[0])

    # Chamfer31
    chamfer31_edges = [part.edges().sort_by_distance(p)[0] for p in [
        (4.063284555, 12.50559645, 2.499999944),
    ]]
    chamfer31_side = [part.faces().sort_by_distance(p)[0] for p in [
        (3.425432285, 11.99279816, 2.499999944),
    ]]
    chamfer(chamfer31_edges, length=CHAMFER31_SIZE, length2=CHAMFER31_SIZE2, reference=chamfer31_side[0])

    # Chamfer32
    chamfer32_edges = [part.edges().sort_by_distance(p)[0] for p in [
        (-3.673310552, 9.308462053, 2.499999944),
    ]]
    chamfer32_side = [part.faces().sort_by_distance(p)[0] for p in [
        (-3.601440309, 9.126320958, 2.499999944),
    ]]
    chamfer(chamfer32_edges, length=CHAMFER32_SIZE, length2=CHAMFER32_SIZE2, reference=chamfer32_side[0])

    # Chamfer33: one chamfer whose edges measure the first distance from different faces: ONE call of the kernel's chamfer builder (chamfer() names one face for all edges)
    chamfer33_edges_1 = [part.edges().sort_by_distance(p)[0] for p in [
        (7.71776434, 6.370021747, 2.499999944),
    ]]
    chamfer33_side_1 = [part.faces().sort_by_distance(p)[0] for p in [
        (7.84780195, 6.548205982, 2.499999944),
    ]]
    chamfer33_edges_2 = [part.edges().sort_by_distance(p)[0] for p in [
        (7.71776434, -6.370021747, 2.499999944),
    ]]
    chamfer33_side_2 = [part.faces().sort_by_distance(p)[0] for p in [
        (7.56674719, -6.245375969, 2.499999944),
    ]]
    chamfer33 = BRepFilletAPI_MakeChamfer(part.part.solid().wrapped)
    for e in chamfer33_edges_1:
        chamfer33.Add(CHAMFER33_SIZE, CHAMFER33_SIZE2, e.wrapped, chamfer33_side_1[0].wrapped)  # the first distance lies on this face
    for e in chamfer33_edges_2:
        chamfer33.Add(CHAMFER33_SIZE, CHAMFER33_SIZE2, e.wrapped, chamfer33_side_2[0].wrapped)  # the first distance lies on this face
    add(Compound.cast(chamfer33.Shape()), mode=Mode.REPLACE)

    # Chamfer34: one chamfer whose edges measure the first distance from different faces: ONE call of the kernel's chamfer builder (chamfer() names one face for all edges)
    chamfer34_edges_1 = [part.edges().sort_by_distance(p)[0] for p in [
        (-6.574547579, -11.387529391, 2.499999944),
    ]]
    chamfer34_side_1 = [part.faces().sort_by_distance(p)[0] for p in [
        (-5.844018753, -11.018514903, 2.499999944),
    ]]
    chamfer34_edges_2 = [part.edges().sort_by_distance(p)[0] for p in [
        (-6.574547579, 11.387529391, 2.499999944),
    ]]
    chamfer34_side_2 = [part.faces().sort_by_distance(p)[0] for p in [
        (-5.844018753, 11.018514903, 2.499999944),
    ]]
    chamfer34 = BRepFilletAPI_MakeChamfer(part.part.solid().wrapped)
    for e in chamfer34_edges_1:
        chamfer34.Add(CHAMFER34_SIZE, CHAMFER34_SIZE2, e.wrapped, chamfer34_side_1[0].wrapped)  # the first distance lies on this face
    for e in chamfer34_edges_2:
        chamfer34.Add(CHAMFER34_SIZE, CHAMFER34_SIZE2, e.wrapped, chamfer34_side_2[0].wrapped)  # the first distance lies on this face
    add(Compound.cast(chamfer34.Shape()), mode=Mode.REPLACE)

    # Chamfer35
    chamfer35_edges = [part.edges().sort_by_distance(p)[0] for p in [
        (4.459627835, -8.95844484, 2.499999944),
    ]]
    chamfer35_side = [part.faces().sort_by_distance(p)[0] for p in [
        (4.505938816, -9.174102406, 2.499999944),
    ]]
    chamfer(chamfer35_edges, length=CHAMFER35_SIZE, length2=CHAMFER35_SIZE2, reference=chamfer35_side[0])

    # Sketch8 → Boss-Extrude3 (add)
    with BuildSketch(Plane.XY.offset(14.999999665)):
        Circle(SKETCH8_R)
        Circle(SKETCH8_R_2, mode=Mode.SUBTRACT)
    extrude(amount=-BOSS_EXTRUDE3_DEPTH)

    # Sketch4 → 5.5mmShaftHole (cut)
    with BuildSketch(Plane.XY.offset(14.999999665)):
        Circle(SKETCH4_R)
    extrude(amount=-F_5_5MMSHAFTHOLE_DEPTH, mode=Mode.SUBTRACT)

    # Sketch5 → NutPlace (cut, two sides: drawn at the far end of the back side and taken through both)
    with BuildSketch(Plane(origin=(0, 0, 0), x_dir=(1, 0, 0), z_dir=(0, 1, 0)).offset(-NUTPLACE_DEPTH_BACK)):
        with Locations((-5.35, -9.949999665)):
            Rectangle(SKETCH5_W, SKETCH5_H)
    extrude(amount=NUTPLACE_DEPTH + NUTPLACE_DEPTH_BACK, mode=Mode.SUBTRACT)

    # Sketch6 → 3.3mmScrewHole for m3 (cut, through all)
    with BuildSketch(Plane(origin=(0, 0, 0), x_dir=(0, 0, -1), z_dir=(1, 0, 0))):
        with Locations((-9.999999665, 0)):
            Circle(SKETCH6_R)
    extrude(amount=-F_3_3MMSCREWHOLE_FOR_M3_DEPTH, mode=Mode.SUBTRACT)

    # Sketch9 → Cut-Extrude2 (cut)
    with BuildSketch(Plane.ZY.offset(9)):
        with Locations((9.999999665, 0)):
            Circle(SKETCH9_R)
    extrude(amount=-CUT_EXTRUDE2_DEPTH, mode=Mode.SUBTRACT)

    # SurfaceCut1
    split(bisect_by=Plane.XY.offset(4.999999888), keep=Keep.TOP)


solid = part.part
